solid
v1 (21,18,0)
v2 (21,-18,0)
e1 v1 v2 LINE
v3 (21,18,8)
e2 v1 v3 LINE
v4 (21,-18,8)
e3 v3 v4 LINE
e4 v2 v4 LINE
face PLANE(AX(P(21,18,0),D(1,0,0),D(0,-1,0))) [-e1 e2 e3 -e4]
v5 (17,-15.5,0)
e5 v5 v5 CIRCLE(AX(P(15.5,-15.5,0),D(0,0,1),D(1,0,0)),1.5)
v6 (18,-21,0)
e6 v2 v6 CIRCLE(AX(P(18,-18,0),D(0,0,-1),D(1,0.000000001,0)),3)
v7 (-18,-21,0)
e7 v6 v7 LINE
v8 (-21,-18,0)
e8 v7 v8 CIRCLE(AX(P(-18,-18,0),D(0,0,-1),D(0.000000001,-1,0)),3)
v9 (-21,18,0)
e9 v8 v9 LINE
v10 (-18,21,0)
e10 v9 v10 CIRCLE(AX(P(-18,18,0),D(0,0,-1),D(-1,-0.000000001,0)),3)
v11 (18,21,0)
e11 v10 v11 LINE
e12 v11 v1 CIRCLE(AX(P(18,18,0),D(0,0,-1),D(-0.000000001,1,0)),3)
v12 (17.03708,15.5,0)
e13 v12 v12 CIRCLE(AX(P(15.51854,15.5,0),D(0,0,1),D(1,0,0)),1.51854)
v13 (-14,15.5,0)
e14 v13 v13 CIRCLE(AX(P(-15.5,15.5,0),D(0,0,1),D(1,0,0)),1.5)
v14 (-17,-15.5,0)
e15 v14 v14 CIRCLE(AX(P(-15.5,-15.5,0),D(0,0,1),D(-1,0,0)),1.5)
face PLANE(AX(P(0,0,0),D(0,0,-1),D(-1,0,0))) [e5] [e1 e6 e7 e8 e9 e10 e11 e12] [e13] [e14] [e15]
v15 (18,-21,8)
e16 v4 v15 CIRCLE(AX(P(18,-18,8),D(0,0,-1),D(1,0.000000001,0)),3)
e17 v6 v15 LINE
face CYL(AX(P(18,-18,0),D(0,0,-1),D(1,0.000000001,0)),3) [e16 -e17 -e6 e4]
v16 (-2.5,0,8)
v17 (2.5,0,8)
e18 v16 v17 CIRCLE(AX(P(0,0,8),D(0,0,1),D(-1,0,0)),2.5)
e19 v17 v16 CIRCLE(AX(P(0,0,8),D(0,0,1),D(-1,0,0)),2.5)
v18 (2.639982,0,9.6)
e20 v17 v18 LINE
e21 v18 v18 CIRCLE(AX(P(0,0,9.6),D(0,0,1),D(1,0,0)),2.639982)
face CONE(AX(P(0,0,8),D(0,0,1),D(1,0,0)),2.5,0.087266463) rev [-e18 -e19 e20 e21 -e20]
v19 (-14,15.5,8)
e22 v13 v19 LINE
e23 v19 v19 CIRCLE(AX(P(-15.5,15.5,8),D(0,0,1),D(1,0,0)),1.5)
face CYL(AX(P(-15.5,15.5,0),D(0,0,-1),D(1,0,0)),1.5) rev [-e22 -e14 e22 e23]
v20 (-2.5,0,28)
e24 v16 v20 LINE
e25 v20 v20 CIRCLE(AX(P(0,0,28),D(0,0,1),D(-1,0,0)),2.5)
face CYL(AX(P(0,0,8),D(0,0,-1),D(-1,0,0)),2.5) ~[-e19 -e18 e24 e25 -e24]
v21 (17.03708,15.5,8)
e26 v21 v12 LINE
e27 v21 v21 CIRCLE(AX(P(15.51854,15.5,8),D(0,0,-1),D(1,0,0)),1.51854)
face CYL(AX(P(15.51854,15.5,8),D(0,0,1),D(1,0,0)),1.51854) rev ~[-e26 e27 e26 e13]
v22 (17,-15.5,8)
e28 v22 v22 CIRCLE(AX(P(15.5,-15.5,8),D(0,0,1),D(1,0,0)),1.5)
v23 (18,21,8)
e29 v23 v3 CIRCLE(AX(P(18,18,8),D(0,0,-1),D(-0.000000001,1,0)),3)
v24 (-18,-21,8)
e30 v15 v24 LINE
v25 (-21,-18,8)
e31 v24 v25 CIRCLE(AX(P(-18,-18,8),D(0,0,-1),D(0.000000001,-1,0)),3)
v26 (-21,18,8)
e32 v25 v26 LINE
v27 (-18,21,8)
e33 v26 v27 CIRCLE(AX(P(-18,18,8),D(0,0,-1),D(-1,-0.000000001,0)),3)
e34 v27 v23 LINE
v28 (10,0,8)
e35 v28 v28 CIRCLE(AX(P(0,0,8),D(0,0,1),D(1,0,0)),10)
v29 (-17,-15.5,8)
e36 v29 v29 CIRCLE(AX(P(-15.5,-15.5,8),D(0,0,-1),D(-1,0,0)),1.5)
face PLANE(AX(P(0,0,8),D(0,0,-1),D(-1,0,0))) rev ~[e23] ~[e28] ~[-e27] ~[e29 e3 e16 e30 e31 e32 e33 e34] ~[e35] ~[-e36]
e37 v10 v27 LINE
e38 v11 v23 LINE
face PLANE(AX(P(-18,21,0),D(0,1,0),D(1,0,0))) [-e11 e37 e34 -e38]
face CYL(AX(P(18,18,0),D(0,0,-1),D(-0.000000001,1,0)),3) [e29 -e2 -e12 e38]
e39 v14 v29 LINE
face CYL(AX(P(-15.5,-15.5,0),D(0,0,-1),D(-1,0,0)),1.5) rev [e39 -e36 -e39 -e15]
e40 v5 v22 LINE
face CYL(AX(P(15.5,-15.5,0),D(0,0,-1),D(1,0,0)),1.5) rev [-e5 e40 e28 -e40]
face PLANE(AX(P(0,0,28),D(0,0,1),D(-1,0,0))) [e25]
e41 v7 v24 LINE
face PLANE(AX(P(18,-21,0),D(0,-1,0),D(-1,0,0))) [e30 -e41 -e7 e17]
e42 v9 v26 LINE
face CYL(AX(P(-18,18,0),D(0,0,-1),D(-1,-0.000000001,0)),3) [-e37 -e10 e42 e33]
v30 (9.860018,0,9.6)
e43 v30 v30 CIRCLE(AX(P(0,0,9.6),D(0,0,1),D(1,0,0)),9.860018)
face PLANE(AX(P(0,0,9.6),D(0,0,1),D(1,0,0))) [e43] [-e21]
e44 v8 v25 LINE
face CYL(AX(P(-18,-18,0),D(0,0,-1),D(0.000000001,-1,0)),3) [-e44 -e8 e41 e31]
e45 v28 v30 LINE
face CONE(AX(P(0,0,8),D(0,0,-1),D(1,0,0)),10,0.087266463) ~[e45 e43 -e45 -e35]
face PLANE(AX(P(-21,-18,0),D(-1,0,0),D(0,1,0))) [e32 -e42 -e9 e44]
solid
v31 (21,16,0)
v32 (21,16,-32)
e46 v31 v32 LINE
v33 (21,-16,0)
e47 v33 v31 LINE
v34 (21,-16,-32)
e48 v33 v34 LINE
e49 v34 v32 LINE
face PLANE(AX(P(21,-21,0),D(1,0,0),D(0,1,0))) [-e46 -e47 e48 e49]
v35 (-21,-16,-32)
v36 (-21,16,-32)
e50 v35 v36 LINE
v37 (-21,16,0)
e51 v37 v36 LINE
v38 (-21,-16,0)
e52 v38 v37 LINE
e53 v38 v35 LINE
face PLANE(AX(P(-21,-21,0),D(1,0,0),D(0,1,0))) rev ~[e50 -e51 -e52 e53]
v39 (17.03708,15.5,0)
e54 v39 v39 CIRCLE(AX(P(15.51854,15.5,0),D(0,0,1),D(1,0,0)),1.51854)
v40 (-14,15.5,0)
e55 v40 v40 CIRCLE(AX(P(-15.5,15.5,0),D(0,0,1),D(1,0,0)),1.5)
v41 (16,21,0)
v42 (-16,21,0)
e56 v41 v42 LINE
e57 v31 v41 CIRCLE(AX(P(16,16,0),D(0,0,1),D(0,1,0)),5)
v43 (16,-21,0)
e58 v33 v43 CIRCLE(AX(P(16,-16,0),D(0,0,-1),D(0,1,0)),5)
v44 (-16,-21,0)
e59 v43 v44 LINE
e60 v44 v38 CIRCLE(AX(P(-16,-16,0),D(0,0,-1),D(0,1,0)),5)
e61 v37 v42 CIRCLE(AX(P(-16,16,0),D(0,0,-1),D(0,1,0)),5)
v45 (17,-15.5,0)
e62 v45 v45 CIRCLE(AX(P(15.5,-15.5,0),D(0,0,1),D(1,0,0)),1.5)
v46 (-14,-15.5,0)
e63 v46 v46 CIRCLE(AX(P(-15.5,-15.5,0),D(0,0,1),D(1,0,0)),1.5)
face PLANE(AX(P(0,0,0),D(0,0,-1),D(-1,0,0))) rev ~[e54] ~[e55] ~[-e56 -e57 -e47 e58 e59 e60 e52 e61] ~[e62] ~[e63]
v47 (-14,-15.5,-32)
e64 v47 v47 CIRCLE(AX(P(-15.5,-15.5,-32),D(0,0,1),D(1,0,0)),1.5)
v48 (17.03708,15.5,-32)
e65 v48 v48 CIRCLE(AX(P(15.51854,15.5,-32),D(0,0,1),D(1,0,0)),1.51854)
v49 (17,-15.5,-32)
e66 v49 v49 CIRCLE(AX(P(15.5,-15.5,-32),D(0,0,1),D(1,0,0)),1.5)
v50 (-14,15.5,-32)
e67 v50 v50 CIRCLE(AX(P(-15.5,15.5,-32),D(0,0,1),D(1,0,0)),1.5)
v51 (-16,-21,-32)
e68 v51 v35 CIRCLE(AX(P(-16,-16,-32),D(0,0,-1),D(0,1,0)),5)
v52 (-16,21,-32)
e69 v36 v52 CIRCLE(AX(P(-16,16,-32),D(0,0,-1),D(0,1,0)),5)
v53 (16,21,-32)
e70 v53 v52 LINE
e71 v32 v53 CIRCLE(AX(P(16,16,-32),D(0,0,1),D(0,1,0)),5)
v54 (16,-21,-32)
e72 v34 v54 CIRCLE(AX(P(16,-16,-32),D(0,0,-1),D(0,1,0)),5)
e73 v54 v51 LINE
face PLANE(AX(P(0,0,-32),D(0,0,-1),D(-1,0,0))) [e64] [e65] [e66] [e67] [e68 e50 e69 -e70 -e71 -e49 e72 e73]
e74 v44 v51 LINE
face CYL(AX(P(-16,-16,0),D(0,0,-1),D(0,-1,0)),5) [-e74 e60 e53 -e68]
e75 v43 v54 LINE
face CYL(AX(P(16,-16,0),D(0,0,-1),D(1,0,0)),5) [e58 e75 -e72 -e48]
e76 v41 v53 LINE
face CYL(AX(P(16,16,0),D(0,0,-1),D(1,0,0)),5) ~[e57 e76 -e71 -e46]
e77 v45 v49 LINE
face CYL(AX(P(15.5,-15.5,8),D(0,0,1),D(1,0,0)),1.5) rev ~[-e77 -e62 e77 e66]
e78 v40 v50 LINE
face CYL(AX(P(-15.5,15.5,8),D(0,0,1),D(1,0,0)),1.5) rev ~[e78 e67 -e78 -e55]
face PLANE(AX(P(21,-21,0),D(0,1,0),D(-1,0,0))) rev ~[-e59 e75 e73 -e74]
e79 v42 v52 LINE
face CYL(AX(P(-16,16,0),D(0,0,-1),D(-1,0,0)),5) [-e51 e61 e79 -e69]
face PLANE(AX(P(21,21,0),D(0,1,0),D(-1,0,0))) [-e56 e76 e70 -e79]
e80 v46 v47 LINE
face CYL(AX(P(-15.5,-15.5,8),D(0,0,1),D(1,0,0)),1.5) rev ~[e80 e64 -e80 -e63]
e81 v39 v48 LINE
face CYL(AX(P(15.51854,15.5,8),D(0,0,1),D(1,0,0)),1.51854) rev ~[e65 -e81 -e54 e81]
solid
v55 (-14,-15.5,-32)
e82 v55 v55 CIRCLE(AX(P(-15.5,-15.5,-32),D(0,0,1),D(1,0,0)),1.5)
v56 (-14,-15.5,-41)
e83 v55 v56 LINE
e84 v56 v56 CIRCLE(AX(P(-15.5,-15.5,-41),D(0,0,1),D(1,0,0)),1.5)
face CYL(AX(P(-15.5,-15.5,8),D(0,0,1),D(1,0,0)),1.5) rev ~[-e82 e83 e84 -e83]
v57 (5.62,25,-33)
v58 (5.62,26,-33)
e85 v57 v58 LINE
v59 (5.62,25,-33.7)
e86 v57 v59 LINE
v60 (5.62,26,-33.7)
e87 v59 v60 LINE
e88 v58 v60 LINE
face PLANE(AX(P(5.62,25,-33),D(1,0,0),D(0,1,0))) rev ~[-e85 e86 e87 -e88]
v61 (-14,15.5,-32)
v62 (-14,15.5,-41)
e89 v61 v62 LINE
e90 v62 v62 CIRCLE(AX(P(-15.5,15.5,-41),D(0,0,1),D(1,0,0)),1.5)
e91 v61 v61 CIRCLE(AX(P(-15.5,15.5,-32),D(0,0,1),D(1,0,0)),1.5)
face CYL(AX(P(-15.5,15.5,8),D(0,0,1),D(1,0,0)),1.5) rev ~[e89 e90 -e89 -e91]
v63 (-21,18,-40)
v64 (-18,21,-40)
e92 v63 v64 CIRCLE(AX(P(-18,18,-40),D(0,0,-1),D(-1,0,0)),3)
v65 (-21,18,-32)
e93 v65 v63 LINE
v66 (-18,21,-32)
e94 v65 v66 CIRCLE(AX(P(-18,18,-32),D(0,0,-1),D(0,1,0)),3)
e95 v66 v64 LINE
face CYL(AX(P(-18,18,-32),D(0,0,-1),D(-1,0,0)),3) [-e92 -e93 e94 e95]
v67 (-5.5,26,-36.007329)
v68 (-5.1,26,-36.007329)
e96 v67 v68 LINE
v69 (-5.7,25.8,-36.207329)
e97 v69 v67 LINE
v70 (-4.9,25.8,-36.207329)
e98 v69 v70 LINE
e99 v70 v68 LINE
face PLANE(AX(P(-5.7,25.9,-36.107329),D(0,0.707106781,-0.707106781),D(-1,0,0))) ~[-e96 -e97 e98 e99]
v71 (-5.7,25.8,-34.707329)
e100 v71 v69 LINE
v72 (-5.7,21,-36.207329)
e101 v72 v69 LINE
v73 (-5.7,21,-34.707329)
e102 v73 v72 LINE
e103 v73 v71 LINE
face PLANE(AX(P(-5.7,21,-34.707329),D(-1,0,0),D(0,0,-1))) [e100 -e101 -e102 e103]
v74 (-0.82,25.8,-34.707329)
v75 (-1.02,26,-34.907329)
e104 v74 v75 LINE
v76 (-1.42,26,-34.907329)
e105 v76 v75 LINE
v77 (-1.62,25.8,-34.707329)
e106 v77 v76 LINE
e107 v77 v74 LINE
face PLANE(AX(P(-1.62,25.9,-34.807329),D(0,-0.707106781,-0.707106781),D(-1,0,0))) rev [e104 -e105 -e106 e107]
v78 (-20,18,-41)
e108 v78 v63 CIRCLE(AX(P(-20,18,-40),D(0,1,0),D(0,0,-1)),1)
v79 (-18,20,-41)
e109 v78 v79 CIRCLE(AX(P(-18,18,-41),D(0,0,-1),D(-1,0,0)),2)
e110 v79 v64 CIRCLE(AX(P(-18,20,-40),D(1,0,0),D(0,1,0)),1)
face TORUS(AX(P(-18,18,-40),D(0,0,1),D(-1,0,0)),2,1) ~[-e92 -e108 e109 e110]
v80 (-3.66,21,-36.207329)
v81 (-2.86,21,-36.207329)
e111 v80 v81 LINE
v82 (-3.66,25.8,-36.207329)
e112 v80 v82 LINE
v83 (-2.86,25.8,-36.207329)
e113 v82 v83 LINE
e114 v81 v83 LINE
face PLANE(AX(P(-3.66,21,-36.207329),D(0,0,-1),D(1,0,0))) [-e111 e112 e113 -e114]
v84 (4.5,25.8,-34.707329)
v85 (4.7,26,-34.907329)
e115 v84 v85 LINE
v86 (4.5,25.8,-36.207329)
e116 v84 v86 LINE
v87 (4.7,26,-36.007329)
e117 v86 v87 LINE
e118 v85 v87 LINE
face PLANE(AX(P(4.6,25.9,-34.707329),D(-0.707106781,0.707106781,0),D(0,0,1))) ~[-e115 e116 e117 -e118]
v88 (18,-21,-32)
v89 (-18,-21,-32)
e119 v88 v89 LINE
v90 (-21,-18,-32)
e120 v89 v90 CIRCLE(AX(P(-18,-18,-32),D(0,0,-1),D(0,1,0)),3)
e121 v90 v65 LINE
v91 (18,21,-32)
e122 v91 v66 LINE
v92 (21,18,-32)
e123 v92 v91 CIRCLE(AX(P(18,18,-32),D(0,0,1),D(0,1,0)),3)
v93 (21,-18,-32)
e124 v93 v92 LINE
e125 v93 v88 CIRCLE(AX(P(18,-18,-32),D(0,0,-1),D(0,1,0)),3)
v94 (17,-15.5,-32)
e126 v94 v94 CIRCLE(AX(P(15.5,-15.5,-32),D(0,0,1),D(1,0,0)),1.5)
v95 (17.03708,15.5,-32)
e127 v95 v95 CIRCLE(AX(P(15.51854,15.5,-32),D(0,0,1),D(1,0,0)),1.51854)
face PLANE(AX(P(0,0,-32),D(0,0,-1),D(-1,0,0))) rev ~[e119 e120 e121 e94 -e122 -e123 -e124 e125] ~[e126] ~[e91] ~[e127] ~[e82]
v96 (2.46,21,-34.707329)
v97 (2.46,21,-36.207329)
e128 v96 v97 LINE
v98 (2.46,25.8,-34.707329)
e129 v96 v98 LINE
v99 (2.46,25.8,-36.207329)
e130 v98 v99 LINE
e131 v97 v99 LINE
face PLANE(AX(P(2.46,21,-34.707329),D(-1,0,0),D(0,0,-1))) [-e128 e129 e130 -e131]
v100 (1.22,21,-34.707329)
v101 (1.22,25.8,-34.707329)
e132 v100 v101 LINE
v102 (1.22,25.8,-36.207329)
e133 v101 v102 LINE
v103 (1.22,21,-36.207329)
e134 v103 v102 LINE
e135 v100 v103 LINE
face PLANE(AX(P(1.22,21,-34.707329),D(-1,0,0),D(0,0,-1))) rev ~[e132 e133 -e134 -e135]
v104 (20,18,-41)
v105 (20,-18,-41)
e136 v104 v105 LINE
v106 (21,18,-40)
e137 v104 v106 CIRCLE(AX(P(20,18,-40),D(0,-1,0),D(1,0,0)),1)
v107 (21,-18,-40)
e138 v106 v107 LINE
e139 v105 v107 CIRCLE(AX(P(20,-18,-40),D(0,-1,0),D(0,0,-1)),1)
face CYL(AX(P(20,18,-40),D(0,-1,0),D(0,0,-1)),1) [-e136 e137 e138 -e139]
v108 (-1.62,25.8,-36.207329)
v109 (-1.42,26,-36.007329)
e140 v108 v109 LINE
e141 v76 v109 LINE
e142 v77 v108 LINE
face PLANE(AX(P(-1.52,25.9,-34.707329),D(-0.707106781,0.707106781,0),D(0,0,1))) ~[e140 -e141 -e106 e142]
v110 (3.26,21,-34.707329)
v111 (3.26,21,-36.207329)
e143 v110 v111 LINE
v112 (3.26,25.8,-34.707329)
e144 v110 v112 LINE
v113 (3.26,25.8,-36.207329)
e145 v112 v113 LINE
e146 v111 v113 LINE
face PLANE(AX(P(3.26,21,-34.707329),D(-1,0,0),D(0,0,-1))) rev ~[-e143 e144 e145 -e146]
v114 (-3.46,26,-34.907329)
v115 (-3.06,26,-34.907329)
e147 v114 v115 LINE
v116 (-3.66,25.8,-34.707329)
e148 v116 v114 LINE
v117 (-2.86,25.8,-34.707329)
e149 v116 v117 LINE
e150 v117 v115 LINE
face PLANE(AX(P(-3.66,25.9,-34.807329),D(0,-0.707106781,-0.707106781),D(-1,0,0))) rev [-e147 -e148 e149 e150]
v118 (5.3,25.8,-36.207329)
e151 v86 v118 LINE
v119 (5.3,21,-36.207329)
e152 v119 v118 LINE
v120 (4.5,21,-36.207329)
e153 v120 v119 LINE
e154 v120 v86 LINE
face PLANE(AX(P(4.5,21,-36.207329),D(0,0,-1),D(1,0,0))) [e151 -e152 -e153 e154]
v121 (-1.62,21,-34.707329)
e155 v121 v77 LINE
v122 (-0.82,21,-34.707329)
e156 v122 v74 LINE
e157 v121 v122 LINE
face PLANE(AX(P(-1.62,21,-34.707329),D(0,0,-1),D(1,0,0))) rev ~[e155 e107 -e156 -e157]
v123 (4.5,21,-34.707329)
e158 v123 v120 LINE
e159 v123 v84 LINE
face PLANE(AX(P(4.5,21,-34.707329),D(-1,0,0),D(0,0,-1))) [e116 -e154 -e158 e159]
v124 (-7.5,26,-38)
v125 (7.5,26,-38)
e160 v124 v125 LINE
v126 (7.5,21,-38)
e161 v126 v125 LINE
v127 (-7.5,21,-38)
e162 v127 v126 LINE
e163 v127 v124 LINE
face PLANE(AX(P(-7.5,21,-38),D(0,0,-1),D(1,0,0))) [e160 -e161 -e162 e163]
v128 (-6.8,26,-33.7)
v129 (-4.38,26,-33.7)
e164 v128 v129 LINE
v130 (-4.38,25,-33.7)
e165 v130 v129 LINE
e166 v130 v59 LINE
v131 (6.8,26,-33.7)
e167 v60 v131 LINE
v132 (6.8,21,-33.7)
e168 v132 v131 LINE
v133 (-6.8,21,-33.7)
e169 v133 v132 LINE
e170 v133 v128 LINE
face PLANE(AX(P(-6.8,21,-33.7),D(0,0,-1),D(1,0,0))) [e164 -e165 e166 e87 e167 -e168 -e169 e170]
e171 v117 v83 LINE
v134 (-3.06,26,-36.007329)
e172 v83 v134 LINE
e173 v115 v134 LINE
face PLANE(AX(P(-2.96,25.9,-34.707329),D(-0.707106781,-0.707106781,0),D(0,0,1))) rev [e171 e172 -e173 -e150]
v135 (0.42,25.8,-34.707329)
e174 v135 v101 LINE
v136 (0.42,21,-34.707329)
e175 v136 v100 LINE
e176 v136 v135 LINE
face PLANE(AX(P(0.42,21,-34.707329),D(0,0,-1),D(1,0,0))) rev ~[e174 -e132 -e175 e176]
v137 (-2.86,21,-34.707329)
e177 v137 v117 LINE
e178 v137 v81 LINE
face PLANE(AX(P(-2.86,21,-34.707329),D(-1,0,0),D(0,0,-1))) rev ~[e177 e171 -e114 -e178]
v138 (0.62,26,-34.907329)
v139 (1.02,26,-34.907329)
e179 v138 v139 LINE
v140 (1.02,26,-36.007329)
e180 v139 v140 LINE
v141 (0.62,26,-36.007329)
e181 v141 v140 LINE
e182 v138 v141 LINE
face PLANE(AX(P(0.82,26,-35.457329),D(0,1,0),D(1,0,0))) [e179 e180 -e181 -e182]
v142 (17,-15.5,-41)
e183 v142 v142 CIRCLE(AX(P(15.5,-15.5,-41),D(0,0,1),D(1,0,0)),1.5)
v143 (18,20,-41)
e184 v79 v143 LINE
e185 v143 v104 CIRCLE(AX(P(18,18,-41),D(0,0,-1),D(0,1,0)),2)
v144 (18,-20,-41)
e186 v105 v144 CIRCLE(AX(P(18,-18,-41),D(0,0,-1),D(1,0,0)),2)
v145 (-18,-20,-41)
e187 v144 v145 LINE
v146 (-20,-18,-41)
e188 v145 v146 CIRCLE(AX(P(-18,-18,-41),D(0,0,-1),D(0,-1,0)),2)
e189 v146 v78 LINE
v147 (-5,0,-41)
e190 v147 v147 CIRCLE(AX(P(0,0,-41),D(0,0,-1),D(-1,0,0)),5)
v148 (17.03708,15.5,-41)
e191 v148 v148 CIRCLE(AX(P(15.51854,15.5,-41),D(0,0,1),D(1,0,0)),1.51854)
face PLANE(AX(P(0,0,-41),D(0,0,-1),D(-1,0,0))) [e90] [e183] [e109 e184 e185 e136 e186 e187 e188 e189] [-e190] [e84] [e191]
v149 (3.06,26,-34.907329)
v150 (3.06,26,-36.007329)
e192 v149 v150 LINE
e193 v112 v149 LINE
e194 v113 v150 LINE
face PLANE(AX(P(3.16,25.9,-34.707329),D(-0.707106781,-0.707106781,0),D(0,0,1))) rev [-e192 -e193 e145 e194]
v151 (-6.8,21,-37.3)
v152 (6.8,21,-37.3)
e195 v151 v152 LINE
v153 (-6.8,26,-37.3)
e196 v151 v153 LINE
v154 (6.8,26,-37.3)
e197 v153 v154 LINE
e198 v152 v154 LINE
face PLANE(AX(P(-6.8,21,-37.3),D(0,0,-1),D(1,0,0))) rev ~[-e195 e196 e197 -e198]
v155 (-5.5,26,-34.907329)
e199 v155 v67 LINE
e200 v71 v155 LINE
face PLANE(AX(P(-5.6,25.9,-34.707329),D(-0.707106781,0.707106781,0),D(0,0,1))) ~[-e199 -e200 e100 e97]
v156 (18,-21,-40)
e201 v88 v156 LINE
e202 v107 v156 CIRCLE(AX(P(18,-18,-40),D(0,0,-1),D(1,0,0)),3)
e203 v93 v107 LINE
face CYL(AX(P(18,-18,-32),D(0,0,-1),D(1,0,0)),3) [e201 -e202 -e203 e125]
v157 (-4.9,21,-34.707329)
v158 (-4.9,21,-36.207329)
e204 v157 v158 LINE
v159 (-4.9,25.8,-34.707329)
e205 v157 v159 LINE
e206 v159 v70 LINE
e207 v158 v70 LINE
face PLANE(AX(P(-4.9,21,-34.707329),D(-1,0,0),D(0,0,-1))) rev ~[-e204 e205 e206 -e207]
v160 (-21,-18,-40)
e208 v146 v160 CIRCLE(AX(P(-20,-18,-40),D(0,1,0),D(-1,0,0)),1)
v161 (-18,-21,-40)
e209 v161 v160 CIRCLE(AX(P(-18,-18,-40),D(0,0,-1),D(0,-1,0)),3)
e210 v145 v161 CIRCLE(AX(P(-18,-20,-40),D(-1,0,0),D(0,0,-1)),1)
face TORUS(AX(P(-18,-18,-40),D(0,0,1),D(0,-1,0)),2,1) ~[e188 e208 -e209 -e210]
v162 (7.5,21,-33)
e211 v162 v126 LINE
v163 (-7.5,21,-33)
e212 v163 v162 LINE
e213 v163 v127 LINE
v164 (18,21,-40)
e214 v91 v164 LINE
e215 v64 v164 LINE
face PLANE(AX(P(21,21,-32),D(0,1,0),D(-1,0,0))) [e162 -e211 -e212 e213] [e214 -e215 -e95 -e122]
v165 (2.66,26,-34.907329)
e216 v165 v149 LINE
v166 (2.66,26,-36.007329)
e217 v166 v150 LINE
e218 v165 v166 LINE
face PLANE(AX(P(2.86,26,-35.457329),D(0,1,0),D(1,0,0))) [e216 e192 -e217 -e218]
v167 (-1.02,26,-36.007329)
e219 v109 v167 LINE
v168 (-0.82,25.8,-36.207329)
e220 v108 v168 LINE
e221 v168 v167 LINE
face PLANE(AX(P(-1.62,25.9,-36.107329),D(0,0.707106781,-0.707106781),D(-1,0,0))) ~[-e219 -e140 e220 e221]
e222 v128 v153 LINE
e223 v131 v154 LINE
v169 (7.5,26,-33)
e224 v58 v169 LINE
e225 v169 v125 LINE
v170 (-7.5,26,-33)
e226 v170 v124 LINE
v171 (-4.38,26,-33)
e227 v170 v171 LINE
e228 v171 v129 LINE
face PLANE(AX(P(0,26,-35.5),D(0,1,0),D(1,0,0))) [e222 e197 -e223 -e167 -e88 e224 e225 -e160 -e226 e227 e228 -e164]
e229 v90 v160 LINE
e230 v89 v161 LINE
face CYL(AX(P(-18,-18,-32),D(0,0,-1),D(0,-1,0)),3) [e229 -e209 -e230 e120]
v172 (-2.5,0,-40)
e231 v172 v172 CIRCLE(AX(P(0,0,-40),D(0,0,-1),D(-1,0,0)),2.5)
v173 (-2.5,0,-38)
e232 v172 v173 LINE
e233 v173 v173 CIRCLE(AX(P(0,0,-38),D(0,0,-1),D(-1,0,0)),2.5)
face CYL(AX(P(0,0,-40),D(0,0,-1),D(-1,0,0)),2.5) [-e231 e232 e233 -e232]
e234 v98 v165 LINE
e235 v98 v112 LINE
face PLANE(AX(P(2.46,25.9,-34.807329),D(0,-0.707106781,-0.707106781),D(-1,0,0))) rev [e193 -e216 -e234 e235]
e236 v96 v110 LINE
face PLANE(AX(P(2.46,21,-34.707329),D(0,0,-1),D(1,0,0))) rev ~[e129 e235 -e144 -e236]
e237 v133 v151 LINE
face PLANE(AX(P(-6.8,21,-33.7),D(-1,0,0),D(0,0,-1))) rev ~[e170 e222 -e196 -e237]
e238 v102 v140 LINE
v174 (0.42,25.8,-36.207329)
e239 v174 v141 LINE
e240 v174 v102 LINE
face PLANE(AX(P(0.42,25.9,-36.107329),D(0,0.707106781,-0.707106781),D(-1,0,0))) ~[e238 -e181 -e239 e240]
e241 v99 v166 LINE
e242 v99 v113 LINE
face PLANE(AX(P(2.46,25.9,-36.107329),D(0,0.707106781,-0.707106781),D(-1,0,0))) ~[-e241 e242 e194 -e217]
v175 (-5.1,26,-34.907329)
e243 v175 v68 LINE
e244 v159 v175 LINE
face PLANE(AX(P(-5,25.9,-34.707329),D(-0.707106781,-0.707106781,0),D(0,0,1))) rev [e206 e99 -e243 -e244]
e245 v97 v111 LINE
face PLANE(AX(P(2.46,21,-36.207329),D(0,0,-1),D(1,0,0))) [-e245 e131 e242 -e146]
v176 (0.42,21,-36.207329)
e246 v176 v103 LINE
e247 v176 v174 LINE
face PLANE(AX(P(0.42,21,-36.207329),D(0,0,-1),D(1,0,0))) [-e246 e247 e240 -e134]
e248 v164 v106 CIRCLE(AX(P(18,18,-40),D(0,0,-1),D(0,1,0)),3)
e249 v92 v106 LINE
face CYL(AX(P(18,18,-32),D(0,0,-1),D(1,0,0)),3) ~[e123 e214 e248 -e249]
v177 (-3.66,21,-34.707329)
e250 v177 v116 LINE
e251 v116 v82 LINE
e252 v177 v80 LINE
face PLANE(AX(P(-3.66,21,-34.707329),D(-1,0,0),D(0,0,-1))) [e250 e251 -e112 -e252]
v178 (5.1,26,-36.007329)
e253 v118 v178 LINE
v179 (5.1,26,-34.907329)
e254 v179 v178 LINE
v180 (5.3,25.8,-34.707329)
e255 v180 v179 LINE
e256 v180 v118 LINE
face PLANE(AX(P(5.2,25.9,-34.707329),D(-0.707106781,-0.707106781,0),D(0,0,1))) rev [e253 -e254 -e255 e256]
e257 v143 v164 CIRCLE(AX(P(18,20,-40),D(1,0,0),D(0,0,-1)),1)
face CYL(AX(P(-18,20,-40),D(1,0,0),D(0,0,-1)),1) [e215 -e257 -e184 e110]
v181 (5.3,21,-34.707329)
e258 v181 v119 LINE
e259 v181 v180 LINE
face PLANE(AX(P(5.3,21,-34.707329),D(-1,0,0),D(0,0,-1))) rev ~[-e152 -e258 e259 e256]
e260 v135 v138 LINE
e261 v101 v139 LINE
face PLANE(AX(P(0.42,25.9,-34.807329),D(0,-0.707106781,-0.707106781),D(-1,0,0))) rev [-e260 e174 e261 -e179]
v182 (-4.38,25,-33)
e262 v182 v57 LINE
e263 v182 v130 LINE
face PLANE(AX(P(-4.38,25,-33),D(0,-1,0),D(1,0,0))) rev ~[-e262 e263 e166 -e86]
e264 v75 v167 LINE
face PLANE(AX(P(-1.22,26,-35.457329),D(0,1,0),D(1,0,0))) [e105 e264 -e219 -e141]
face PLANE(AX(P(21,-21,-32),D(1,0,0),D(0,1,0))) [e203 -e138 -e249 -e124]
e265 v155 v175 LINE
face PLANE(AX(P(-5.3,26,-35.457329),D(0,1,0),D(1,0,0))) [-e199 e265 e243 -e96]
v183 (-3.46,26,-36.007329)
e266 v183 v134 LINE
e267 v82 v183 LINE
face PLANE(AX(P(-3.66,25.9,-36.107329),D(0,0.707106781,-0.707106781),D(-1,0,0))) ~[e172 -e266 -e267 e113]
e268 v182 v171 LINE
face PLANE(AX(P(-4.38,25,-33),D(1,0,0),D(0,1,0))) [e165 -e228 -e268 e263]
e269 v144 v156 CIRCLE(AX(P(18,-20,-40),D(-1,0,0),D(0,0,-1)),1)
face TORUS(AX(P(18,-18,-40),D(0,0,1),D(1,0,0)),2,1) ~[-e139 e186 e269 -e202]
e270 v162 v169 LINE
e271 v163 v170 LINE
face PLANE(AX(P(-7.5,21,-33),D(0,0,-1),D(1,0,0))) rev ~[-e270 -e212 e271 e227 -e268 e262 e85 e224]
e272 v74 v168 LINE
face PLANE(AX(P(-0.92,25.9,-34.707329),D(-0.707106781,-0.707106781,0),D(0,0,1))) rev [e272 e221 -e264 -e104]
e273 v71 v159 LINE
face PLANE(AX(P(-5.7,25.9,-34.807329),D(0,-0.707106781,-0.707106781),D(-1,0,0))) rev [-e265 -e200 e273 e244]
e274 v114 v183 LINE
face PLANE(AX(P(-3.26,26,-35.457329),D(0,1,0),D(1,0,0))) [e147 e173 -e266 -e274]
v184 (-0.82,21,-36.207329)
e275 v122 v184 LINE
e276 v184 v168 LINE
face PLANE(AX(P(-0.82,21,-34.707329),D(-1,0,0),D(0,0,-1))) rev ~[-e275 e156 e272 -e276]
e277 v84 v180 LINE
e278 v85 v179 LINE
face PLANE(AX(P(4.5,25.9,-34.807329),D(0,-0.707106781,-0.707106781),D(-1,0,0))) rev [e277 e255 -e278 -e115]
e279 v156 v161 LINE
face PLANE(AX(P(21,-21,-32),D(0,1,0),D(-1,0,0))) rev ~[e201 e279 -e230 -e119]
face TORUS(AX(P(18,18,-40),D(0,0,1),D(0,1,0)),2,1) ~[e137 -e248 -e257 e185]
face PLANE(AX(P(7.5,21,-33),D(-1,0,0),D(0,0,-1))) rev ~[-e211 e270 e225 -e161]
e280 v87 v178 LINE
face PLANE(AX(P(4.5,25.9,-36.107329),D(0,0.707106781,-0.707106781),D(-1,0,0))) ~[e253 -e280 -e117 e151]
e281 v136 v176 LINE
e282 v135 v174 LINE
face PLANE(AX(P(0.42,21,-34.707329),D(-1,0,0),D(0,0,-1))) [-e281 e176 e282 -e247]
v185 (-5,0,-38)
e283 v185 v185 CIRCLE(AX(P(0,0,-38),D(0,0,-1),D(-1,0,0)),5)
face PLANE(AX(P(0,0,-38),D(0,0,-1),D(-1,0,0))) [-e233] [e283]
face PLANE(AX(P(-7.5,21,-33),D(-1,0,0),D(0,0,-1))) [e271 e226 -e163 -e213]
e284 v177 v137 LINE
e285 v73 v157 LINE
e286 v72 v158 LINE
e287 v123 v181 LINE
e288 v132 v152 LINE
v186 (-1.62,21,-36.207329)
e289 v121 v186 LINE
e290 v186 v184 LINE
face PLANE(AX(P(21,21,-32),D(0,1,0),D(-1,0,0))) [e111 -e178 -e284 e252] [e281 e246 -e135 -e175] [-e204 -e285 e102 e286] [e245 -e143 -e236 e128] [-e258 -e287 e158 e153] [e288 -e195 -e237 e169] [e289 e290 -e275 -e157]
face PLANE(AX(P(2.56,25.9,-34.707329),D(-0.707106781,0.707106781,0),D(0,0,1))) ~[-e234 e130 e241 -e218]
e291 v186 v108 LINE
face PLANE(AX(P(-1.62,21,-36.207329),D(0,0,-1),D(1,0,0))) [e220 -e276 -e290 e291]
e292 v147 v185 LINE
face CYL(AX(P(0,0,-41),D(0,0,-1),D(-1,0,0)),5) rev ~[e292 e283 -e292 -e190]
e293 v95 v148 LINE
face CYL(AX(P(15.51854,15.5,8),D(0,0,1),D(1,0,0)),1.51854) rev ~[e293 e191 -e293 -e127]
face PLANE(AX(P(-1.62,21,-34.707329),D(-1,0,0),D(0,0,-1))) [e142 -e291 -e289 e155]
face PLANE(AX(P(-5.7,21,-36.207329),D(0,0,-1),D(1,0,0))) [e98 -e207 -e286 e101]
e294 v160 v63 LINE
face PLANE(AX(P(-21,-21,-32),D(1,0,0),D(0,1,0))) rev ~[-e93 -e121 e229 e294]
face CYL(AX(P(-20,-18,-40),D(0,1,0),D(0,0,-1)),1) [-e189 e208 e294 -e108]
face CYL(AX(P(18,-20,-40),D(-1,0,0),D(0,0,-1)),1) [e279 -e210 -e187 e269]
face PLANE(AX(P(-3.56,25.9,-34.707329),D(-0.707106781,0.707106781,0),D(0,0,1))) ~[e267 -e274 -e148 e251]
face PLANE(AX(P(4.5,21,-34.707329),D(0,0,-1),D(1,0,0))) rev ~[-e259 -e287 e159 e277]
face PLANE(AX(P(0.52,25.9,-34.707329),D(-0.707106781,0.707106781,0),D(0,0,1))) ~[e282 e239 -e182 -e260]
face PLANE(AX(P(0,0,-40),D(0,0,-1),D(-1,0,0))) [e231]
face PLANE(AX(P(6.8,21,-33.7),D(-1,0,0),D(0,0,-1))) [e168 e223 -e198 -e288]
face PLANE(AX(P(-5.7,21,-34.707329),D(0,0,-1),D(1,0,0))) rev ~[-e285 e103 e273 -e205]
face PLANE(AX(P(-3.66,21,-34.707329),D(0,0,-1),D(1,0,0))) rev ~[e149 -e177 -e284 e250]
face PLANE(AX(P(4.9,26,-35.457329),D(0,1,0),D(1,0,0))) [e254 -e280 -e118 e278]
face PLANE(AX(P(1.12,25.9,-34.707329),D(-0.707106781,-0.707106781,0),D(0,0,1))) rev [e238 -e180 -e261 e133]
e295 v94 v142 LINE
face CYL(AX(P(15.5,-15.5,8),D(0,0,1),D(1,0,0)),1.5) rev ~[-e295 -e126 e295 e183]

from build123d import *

# Parameters (mm, degrees)
SKETCH_1_R          = 1.5
EXTRUDE_1_DEPTH     = 8
SKETCH_4_R          = 2.5
EXTRUDE_2_DEPTH     = 20
SKETCH_9_W          = 42
SKETCH_9_H          = 42
EXTRUDE_7_DEPTH     = 32
SKETCH_10_W         = 42
SKETCH_10_H         = 42
EXTRUDE_8_DEPTH     = 9
FILLET_1_R          = 3
FILLET_2_R          = 5
SKETCH_12_R         = 1.5
SKETCH_12_R_2       = 1.518540069
CUT_EXTRUDE_1_DEPTH = 58.297469403
SKETCH_14_W         = 15
SKETCH_14_H         = 5
SKETCH_14_W_2       = 13.6
SKETCH_14_H_2       = 3.6
SKETCH_14_W_3       = 0.8
SKETCH_14_H_3       = 1.5
EXTRUDE_10_DEPTH    = 5
CHAMFER_1_SIZE      = 0.2
SKETCH_15_W         = 10
SKETCH_15_H         = 1
CUT_EXTRUDE_2_DEPTH = 0.7
FILLET_3_R          = 1
SKETCH_16_R         = 10
SKETCH_16_R_2       = 2.5
EXTRUDE_11_DEPTH    = 1.6
EXTRUDE_11_DRAFT    = 5
SKETCH_18_R         = 5
CUT_EXTRUDE_3_DEPTH = 3
EXTRUDE_START       = 2
SKETCH_19_R         = 2.5
EXTRUDE_13_DEPTH    = 2


with BuildPart() as part:
    # 草图1 → 凸台-拉伸1 (new body)
    with BuildSketch(Plane.XY):
        with BuildLine():
            Line((-18, 21), (18, 21))
            ThreePointArc((18, 21), (20.121320344, 20.121320344), (21, 18))
            Line((21, 18), (21, -18))
            ThreePointArc((21, -18), (20.121320344, -20.121320344), (18, -21))
            Line((18, -21), (-18, -21))
            ThreePointArc((-18, -21), (-20.121320344, -20.121320344), (-21, -18))
            Line((-21, -18), (-21, 18))
            ThreePointArc((-21, 18), (-20.121320344, 20.121320344), (-18, 21))
        make_face()
        with Locations((-15.5, 15.5)):
            Circle(SKETCH_1_R, mode=Mode.SUBTRACT)
        with Locations(Location((15.5, 15.5, 0), (0, 0, 180))):
            Circle(SKETCH_1_R, mode=Mode.SUBTRACT)
        with Locations((15.5, -15.5)):
            Circle(SKETCH_1_R, mode=Mode.SUBTRACT)
        with Locations(Location((-15.5, -15.5, 0), (0, 0, 180))):
            Circle(SKETCH_1_R, mode=Mode.SUBTRACT)
    extrude(amount=EXTRUDE_1_DEPTH)

    # 草图4 → 凸台-拉伸2 (add)
    with BuildSketch(Plane.XY.offset(8)):
        with Locations(Location((0, 0, 0), (0, 0, 180))):
            Circle(SKETCH_4_R)
    extrude(amount=EXTRUDE_2_DEPTH)


with BuildPart() as body_2:
    # 草图9 → 凸台-拉伸7 (new body)
    with BuildSketch(Plane(origin=(0, 0, 0), x_dir=(-1, 0, 0), z_dir=(0, 0, -1))):
        Rectangle(SKETCH_9_W, SKETCH_9_H)
    extrude(amount=EXTRUDE_7_DEPTH)

    # 圆角2
    fillet_2_edges = [body_2.edges().sort_by_distance(p)[0] for p in [
        (-21, -21, -16),
        (21, -21, -16),
        (21, 21, -16),
        (-21, 21, -16),
    ]]
    fillet(fillet_2_edges, radius=FILLET_2_R)


with BuildPart() as body_3:
    # 草图10 → 凸台-拉伸8 (new body)
    with BuildSketch(Plane(origin=(0, 0, -32), x_dir=(-1, 0, 0), z_dir=(0, 0, -1))):
        Rectangle(SKETCH_10_W, SKETCH_10_H)
    extrude(amount=EXTRUDE_8_DEPTH)

    # 圆角1
    fillet_1_edges = [body_3.edges().sort_by_distance(p)[0] for p in [
        (21, 21, -36.5),
        (-21, 21, -36.5),
        (-21, -21, -36.5),
        (21, -21, -36.5),
    ]]
    fillet(fillet_1_edges, radius=FILLET_1_R)


with BuildPart() as cut_extrude_1_tool:
    # 草图12 → 切除-拉伸1 (new, through all)
    with BuildSketch(Plane.XY.offset(8)):
        with Locations((-15.5, 15.5)):
            Circle(SKETCH_12_R)
        with Locations((15.518540069, 15.5)):
            Circle(SKETCH_12_R_2)
        with Locations((-15.5, -15.5)):
            Circle(SKETCH_12_R)
        with Locations((15.5, -15.5)):
            Circle(SKETCH_12_R)
    extrude(amount=-CUT_EXTRUDE_1_DEPTH)


with BuildPart() as part_1:
    add(part.part)

    # 切除-拉伸1: cut by cut_extrude_1_tool
    add(cut_extrude_1_tool.part, mode=Mode.SUBTRACT)


with BuildPart() as body_2_1:
    add(body_2.part)

    # 切除-拉伸1: cut by cut_extrude_1_tool
    add(cut_extrude_1_tool.part, mode=Mode.SUBTRACT)


with BuildPart() as body_3_1:
    add(body_3.part)

    # 切除-拉伸1: cut by cut_extrude_1_tool
    add(cut_extrude_1_tool.part, mode=Mode.SUBTRACT)

    # 草图14 → 凸台-拉伸10 (add)
    # profile 1 of 7: a face of its own
    with BuildSketch(Plane(origin=(0, 21, 0), x_dir=(1, 0, 0), z_dir=(0, 1, 0))):
        with Locations((0, 35.5)):
            Rectangle(SKETCH_14_W, SKETCH_14_H)
        with Locations((0, 35.5)):
            Rectangle(SKETCH_14_W_2, SKETCH_14_H_2, mode=Mode.SUBTRACT)
    # profile 2 of 7: a face of its own
    with BuildSketch(Plane(origin=(0, 21, 0), x_dir=(1, 0, 0), z_dir=(0, 1, 0))):
        with Locations((-5.3, 35.457329348)):
            Rectangle(SKETCH_14_W_3, SKETCH_14_H_3)
    # profile 3 of 7: a face of its own
    with BuildSketch(Plane(origin=(0, 21, 0), x_dir=(1, 0, 0), z_dir=(0, 1, 0))):
        with Locations((-1.22, 35.457329348)):
            Rectangle(SKETCH_14_W_3, SKETCH_14_H_3)
    # profile 4 of 7: a face of its own
    with BuildSketch(Plane(origin=(0, 21, 0), x_dir=(1, 0, 0), z_dir=(0, 1, 0))):
        with Locations((4.9, 35.457329348)):
            Rectangle(SKETCH_14_W_3, SKETCH_14_H_3)
    # profile 5 of 7: a face of its own
    with BuildSketch(Plane(origin=(0, 21, 0), x_dir=(1, 0, 0), z_dir=(0, 1, 0))):
        with Locations((2.86, 35.457329348)):
            Rectangle(SKETCH_14_W_3, SKETCH_14_H_3)
    # profile 6 of 7: a face of its own
    with BuildSketch(Plane(origin=(0, 21, 0), x_dir=(1, 0, 0), z_dir=(0, 1, 0))):
        with Locations((-3.26, 35.457329348)):
            Rectangle(SKETCH_14_W_3, SKETCH_14_H_3)
    # profile 7 of 7: a face of its own
    with BuildSketch(Plane(origin=(0, 21, 0), x_dir=(1, 0, 0), z_dir=(0, 1, 0))):
        with Locations((0.82, 35.457329348)):
            Rectangle(SKETCH_14_W_3, SKETCH_14_H_3)
    extrude(amount=EXTRUDE_10_DEPTH)

    # 倒角1
    chamfer_1_edges = [body_3_1.edges().sort_by_distance(p)[0] for p in [
        (5.3, 26, -35.457329348),
        (4.9, 26, -36.207329348),
        (4.5, 26, -35.457329348),
        (4.9, 26, -34.707329348),
        (3.26, 26, -35.457329348),
        (2.86, 26, -36.207329348),
        (2.46, 26, -35.457329348),
        (2.86, 26, -34.707329348),
        (-2.86, 26, -35.457329348),
        (-3.26, 26, -36.207329348),
        (-3.66, 26, -35.457329348),
        (-3.26, 26, -34.707329348),
        (1.22, 26, -35.457329348),
        (0.82, 26, -36.207329348),
        (0.42, 26, -35.457329348),
        (0.82, 26, -34.707329348),
        (-4.9, 26, -35.457329348),
        (-5.3, 26, -36.207329348),
        (-5.7, 26, -35.457329348),
        (-5.3, 26, -34.707329348),
        (-0.82, 26, -35.457329348),
        (-1.22, 26, -36.207329348),
        (-1.62, 26, -35.457329348),
        (-1.22, 26, -34.707329348),
    ]]
    chamfer(chamfer_1_edges, length=CHAMFER_1_SIZE)

    # 草图15 → 切除-拉伸2 (cut)
    with BuildSketch(Plane.XY.offset(-33)):
        with Locations((0.62, 25.5)):
            Rectangle(SKETCH_15_W, SKETCH_15_H)
    extrude(amount=-CUT_EXTRUDE_2_DEPTH, mode=Mode.SUBTRACT)

    # 圆角3
    fillet_3_edges = [body_3_1.edges().sort_by_distance(p)[0] for p in [
        (0, -21, -41),
        (21, 0, -41),
        (-21, 0, -41),
        (0, 21, -41),
        (20.121320344, 20.121320344, -41),
        (-20.121320344, 20.121320344, -41),
        (-20.121320344, -20.121320344, -41),
        (20.121320344, -20.121320344, -41),
    ]]
    fillet(fillet_3_edges, radius=FILLET_3_R)

    # 草图18 → 切除-拉伸3 (cut)
    with BuildSketch(Plane(origin=(0, 0, -41), x_dir=(-1, 0, 0), z_dir=(0, 0, -1))):
        Circle(SKETCH_18_R)
    extrude(amount=-CUT_EXTRUDE_3_DEPTH, mode=Mode.SUBTRACT)

    # 草图19 → 凸台-拉伸13 (add)
    with BuildSketch(Plane(origin=(0, 0, -38), x_dir=(-1, 0, 0), z_dir=(0, 0, -1)).offset(EXTRUDE_START)):
        Circle(SKETCH_19_R)
    extrude(amount=-EXTRUDE_13_DEPTH)


with BuildPart() as extrude_11_tool:
    # 草图16 → 凸台-拉伸11 (with draft: the straight prism first)
    with BuildSketch(Plane.XY.offset(8)):
        Circle(SKETCH_16_R)
        Circle(SKETCH_16_R_2, mode=Mode.SUBTRACT)
    extrude(amount=EXTRUDE_11_DEPTH)
    # 凸台-拉伸11: the draft: its side faces are tilted about the plane it starts from
    extrude_11_sides = [extrude_11_tool.faces().sort_by_distance(p)[0] for p in [
        (-10, 0, 8.8),
        (-2.5, 0, 8.8),
    ]]
    draft(extrude_11_sides, Plane.XY.offset(8), EXTRUDE_11_DRAFT)


with BuildPart() as part_2:
    add(part_1.part)

    # 凸台-拉伸11: add extrude_11_tool
    add(extrude_11_tool.part)


solid = Compound([body_2_1.part, body_3_1.part, part_2.part])
